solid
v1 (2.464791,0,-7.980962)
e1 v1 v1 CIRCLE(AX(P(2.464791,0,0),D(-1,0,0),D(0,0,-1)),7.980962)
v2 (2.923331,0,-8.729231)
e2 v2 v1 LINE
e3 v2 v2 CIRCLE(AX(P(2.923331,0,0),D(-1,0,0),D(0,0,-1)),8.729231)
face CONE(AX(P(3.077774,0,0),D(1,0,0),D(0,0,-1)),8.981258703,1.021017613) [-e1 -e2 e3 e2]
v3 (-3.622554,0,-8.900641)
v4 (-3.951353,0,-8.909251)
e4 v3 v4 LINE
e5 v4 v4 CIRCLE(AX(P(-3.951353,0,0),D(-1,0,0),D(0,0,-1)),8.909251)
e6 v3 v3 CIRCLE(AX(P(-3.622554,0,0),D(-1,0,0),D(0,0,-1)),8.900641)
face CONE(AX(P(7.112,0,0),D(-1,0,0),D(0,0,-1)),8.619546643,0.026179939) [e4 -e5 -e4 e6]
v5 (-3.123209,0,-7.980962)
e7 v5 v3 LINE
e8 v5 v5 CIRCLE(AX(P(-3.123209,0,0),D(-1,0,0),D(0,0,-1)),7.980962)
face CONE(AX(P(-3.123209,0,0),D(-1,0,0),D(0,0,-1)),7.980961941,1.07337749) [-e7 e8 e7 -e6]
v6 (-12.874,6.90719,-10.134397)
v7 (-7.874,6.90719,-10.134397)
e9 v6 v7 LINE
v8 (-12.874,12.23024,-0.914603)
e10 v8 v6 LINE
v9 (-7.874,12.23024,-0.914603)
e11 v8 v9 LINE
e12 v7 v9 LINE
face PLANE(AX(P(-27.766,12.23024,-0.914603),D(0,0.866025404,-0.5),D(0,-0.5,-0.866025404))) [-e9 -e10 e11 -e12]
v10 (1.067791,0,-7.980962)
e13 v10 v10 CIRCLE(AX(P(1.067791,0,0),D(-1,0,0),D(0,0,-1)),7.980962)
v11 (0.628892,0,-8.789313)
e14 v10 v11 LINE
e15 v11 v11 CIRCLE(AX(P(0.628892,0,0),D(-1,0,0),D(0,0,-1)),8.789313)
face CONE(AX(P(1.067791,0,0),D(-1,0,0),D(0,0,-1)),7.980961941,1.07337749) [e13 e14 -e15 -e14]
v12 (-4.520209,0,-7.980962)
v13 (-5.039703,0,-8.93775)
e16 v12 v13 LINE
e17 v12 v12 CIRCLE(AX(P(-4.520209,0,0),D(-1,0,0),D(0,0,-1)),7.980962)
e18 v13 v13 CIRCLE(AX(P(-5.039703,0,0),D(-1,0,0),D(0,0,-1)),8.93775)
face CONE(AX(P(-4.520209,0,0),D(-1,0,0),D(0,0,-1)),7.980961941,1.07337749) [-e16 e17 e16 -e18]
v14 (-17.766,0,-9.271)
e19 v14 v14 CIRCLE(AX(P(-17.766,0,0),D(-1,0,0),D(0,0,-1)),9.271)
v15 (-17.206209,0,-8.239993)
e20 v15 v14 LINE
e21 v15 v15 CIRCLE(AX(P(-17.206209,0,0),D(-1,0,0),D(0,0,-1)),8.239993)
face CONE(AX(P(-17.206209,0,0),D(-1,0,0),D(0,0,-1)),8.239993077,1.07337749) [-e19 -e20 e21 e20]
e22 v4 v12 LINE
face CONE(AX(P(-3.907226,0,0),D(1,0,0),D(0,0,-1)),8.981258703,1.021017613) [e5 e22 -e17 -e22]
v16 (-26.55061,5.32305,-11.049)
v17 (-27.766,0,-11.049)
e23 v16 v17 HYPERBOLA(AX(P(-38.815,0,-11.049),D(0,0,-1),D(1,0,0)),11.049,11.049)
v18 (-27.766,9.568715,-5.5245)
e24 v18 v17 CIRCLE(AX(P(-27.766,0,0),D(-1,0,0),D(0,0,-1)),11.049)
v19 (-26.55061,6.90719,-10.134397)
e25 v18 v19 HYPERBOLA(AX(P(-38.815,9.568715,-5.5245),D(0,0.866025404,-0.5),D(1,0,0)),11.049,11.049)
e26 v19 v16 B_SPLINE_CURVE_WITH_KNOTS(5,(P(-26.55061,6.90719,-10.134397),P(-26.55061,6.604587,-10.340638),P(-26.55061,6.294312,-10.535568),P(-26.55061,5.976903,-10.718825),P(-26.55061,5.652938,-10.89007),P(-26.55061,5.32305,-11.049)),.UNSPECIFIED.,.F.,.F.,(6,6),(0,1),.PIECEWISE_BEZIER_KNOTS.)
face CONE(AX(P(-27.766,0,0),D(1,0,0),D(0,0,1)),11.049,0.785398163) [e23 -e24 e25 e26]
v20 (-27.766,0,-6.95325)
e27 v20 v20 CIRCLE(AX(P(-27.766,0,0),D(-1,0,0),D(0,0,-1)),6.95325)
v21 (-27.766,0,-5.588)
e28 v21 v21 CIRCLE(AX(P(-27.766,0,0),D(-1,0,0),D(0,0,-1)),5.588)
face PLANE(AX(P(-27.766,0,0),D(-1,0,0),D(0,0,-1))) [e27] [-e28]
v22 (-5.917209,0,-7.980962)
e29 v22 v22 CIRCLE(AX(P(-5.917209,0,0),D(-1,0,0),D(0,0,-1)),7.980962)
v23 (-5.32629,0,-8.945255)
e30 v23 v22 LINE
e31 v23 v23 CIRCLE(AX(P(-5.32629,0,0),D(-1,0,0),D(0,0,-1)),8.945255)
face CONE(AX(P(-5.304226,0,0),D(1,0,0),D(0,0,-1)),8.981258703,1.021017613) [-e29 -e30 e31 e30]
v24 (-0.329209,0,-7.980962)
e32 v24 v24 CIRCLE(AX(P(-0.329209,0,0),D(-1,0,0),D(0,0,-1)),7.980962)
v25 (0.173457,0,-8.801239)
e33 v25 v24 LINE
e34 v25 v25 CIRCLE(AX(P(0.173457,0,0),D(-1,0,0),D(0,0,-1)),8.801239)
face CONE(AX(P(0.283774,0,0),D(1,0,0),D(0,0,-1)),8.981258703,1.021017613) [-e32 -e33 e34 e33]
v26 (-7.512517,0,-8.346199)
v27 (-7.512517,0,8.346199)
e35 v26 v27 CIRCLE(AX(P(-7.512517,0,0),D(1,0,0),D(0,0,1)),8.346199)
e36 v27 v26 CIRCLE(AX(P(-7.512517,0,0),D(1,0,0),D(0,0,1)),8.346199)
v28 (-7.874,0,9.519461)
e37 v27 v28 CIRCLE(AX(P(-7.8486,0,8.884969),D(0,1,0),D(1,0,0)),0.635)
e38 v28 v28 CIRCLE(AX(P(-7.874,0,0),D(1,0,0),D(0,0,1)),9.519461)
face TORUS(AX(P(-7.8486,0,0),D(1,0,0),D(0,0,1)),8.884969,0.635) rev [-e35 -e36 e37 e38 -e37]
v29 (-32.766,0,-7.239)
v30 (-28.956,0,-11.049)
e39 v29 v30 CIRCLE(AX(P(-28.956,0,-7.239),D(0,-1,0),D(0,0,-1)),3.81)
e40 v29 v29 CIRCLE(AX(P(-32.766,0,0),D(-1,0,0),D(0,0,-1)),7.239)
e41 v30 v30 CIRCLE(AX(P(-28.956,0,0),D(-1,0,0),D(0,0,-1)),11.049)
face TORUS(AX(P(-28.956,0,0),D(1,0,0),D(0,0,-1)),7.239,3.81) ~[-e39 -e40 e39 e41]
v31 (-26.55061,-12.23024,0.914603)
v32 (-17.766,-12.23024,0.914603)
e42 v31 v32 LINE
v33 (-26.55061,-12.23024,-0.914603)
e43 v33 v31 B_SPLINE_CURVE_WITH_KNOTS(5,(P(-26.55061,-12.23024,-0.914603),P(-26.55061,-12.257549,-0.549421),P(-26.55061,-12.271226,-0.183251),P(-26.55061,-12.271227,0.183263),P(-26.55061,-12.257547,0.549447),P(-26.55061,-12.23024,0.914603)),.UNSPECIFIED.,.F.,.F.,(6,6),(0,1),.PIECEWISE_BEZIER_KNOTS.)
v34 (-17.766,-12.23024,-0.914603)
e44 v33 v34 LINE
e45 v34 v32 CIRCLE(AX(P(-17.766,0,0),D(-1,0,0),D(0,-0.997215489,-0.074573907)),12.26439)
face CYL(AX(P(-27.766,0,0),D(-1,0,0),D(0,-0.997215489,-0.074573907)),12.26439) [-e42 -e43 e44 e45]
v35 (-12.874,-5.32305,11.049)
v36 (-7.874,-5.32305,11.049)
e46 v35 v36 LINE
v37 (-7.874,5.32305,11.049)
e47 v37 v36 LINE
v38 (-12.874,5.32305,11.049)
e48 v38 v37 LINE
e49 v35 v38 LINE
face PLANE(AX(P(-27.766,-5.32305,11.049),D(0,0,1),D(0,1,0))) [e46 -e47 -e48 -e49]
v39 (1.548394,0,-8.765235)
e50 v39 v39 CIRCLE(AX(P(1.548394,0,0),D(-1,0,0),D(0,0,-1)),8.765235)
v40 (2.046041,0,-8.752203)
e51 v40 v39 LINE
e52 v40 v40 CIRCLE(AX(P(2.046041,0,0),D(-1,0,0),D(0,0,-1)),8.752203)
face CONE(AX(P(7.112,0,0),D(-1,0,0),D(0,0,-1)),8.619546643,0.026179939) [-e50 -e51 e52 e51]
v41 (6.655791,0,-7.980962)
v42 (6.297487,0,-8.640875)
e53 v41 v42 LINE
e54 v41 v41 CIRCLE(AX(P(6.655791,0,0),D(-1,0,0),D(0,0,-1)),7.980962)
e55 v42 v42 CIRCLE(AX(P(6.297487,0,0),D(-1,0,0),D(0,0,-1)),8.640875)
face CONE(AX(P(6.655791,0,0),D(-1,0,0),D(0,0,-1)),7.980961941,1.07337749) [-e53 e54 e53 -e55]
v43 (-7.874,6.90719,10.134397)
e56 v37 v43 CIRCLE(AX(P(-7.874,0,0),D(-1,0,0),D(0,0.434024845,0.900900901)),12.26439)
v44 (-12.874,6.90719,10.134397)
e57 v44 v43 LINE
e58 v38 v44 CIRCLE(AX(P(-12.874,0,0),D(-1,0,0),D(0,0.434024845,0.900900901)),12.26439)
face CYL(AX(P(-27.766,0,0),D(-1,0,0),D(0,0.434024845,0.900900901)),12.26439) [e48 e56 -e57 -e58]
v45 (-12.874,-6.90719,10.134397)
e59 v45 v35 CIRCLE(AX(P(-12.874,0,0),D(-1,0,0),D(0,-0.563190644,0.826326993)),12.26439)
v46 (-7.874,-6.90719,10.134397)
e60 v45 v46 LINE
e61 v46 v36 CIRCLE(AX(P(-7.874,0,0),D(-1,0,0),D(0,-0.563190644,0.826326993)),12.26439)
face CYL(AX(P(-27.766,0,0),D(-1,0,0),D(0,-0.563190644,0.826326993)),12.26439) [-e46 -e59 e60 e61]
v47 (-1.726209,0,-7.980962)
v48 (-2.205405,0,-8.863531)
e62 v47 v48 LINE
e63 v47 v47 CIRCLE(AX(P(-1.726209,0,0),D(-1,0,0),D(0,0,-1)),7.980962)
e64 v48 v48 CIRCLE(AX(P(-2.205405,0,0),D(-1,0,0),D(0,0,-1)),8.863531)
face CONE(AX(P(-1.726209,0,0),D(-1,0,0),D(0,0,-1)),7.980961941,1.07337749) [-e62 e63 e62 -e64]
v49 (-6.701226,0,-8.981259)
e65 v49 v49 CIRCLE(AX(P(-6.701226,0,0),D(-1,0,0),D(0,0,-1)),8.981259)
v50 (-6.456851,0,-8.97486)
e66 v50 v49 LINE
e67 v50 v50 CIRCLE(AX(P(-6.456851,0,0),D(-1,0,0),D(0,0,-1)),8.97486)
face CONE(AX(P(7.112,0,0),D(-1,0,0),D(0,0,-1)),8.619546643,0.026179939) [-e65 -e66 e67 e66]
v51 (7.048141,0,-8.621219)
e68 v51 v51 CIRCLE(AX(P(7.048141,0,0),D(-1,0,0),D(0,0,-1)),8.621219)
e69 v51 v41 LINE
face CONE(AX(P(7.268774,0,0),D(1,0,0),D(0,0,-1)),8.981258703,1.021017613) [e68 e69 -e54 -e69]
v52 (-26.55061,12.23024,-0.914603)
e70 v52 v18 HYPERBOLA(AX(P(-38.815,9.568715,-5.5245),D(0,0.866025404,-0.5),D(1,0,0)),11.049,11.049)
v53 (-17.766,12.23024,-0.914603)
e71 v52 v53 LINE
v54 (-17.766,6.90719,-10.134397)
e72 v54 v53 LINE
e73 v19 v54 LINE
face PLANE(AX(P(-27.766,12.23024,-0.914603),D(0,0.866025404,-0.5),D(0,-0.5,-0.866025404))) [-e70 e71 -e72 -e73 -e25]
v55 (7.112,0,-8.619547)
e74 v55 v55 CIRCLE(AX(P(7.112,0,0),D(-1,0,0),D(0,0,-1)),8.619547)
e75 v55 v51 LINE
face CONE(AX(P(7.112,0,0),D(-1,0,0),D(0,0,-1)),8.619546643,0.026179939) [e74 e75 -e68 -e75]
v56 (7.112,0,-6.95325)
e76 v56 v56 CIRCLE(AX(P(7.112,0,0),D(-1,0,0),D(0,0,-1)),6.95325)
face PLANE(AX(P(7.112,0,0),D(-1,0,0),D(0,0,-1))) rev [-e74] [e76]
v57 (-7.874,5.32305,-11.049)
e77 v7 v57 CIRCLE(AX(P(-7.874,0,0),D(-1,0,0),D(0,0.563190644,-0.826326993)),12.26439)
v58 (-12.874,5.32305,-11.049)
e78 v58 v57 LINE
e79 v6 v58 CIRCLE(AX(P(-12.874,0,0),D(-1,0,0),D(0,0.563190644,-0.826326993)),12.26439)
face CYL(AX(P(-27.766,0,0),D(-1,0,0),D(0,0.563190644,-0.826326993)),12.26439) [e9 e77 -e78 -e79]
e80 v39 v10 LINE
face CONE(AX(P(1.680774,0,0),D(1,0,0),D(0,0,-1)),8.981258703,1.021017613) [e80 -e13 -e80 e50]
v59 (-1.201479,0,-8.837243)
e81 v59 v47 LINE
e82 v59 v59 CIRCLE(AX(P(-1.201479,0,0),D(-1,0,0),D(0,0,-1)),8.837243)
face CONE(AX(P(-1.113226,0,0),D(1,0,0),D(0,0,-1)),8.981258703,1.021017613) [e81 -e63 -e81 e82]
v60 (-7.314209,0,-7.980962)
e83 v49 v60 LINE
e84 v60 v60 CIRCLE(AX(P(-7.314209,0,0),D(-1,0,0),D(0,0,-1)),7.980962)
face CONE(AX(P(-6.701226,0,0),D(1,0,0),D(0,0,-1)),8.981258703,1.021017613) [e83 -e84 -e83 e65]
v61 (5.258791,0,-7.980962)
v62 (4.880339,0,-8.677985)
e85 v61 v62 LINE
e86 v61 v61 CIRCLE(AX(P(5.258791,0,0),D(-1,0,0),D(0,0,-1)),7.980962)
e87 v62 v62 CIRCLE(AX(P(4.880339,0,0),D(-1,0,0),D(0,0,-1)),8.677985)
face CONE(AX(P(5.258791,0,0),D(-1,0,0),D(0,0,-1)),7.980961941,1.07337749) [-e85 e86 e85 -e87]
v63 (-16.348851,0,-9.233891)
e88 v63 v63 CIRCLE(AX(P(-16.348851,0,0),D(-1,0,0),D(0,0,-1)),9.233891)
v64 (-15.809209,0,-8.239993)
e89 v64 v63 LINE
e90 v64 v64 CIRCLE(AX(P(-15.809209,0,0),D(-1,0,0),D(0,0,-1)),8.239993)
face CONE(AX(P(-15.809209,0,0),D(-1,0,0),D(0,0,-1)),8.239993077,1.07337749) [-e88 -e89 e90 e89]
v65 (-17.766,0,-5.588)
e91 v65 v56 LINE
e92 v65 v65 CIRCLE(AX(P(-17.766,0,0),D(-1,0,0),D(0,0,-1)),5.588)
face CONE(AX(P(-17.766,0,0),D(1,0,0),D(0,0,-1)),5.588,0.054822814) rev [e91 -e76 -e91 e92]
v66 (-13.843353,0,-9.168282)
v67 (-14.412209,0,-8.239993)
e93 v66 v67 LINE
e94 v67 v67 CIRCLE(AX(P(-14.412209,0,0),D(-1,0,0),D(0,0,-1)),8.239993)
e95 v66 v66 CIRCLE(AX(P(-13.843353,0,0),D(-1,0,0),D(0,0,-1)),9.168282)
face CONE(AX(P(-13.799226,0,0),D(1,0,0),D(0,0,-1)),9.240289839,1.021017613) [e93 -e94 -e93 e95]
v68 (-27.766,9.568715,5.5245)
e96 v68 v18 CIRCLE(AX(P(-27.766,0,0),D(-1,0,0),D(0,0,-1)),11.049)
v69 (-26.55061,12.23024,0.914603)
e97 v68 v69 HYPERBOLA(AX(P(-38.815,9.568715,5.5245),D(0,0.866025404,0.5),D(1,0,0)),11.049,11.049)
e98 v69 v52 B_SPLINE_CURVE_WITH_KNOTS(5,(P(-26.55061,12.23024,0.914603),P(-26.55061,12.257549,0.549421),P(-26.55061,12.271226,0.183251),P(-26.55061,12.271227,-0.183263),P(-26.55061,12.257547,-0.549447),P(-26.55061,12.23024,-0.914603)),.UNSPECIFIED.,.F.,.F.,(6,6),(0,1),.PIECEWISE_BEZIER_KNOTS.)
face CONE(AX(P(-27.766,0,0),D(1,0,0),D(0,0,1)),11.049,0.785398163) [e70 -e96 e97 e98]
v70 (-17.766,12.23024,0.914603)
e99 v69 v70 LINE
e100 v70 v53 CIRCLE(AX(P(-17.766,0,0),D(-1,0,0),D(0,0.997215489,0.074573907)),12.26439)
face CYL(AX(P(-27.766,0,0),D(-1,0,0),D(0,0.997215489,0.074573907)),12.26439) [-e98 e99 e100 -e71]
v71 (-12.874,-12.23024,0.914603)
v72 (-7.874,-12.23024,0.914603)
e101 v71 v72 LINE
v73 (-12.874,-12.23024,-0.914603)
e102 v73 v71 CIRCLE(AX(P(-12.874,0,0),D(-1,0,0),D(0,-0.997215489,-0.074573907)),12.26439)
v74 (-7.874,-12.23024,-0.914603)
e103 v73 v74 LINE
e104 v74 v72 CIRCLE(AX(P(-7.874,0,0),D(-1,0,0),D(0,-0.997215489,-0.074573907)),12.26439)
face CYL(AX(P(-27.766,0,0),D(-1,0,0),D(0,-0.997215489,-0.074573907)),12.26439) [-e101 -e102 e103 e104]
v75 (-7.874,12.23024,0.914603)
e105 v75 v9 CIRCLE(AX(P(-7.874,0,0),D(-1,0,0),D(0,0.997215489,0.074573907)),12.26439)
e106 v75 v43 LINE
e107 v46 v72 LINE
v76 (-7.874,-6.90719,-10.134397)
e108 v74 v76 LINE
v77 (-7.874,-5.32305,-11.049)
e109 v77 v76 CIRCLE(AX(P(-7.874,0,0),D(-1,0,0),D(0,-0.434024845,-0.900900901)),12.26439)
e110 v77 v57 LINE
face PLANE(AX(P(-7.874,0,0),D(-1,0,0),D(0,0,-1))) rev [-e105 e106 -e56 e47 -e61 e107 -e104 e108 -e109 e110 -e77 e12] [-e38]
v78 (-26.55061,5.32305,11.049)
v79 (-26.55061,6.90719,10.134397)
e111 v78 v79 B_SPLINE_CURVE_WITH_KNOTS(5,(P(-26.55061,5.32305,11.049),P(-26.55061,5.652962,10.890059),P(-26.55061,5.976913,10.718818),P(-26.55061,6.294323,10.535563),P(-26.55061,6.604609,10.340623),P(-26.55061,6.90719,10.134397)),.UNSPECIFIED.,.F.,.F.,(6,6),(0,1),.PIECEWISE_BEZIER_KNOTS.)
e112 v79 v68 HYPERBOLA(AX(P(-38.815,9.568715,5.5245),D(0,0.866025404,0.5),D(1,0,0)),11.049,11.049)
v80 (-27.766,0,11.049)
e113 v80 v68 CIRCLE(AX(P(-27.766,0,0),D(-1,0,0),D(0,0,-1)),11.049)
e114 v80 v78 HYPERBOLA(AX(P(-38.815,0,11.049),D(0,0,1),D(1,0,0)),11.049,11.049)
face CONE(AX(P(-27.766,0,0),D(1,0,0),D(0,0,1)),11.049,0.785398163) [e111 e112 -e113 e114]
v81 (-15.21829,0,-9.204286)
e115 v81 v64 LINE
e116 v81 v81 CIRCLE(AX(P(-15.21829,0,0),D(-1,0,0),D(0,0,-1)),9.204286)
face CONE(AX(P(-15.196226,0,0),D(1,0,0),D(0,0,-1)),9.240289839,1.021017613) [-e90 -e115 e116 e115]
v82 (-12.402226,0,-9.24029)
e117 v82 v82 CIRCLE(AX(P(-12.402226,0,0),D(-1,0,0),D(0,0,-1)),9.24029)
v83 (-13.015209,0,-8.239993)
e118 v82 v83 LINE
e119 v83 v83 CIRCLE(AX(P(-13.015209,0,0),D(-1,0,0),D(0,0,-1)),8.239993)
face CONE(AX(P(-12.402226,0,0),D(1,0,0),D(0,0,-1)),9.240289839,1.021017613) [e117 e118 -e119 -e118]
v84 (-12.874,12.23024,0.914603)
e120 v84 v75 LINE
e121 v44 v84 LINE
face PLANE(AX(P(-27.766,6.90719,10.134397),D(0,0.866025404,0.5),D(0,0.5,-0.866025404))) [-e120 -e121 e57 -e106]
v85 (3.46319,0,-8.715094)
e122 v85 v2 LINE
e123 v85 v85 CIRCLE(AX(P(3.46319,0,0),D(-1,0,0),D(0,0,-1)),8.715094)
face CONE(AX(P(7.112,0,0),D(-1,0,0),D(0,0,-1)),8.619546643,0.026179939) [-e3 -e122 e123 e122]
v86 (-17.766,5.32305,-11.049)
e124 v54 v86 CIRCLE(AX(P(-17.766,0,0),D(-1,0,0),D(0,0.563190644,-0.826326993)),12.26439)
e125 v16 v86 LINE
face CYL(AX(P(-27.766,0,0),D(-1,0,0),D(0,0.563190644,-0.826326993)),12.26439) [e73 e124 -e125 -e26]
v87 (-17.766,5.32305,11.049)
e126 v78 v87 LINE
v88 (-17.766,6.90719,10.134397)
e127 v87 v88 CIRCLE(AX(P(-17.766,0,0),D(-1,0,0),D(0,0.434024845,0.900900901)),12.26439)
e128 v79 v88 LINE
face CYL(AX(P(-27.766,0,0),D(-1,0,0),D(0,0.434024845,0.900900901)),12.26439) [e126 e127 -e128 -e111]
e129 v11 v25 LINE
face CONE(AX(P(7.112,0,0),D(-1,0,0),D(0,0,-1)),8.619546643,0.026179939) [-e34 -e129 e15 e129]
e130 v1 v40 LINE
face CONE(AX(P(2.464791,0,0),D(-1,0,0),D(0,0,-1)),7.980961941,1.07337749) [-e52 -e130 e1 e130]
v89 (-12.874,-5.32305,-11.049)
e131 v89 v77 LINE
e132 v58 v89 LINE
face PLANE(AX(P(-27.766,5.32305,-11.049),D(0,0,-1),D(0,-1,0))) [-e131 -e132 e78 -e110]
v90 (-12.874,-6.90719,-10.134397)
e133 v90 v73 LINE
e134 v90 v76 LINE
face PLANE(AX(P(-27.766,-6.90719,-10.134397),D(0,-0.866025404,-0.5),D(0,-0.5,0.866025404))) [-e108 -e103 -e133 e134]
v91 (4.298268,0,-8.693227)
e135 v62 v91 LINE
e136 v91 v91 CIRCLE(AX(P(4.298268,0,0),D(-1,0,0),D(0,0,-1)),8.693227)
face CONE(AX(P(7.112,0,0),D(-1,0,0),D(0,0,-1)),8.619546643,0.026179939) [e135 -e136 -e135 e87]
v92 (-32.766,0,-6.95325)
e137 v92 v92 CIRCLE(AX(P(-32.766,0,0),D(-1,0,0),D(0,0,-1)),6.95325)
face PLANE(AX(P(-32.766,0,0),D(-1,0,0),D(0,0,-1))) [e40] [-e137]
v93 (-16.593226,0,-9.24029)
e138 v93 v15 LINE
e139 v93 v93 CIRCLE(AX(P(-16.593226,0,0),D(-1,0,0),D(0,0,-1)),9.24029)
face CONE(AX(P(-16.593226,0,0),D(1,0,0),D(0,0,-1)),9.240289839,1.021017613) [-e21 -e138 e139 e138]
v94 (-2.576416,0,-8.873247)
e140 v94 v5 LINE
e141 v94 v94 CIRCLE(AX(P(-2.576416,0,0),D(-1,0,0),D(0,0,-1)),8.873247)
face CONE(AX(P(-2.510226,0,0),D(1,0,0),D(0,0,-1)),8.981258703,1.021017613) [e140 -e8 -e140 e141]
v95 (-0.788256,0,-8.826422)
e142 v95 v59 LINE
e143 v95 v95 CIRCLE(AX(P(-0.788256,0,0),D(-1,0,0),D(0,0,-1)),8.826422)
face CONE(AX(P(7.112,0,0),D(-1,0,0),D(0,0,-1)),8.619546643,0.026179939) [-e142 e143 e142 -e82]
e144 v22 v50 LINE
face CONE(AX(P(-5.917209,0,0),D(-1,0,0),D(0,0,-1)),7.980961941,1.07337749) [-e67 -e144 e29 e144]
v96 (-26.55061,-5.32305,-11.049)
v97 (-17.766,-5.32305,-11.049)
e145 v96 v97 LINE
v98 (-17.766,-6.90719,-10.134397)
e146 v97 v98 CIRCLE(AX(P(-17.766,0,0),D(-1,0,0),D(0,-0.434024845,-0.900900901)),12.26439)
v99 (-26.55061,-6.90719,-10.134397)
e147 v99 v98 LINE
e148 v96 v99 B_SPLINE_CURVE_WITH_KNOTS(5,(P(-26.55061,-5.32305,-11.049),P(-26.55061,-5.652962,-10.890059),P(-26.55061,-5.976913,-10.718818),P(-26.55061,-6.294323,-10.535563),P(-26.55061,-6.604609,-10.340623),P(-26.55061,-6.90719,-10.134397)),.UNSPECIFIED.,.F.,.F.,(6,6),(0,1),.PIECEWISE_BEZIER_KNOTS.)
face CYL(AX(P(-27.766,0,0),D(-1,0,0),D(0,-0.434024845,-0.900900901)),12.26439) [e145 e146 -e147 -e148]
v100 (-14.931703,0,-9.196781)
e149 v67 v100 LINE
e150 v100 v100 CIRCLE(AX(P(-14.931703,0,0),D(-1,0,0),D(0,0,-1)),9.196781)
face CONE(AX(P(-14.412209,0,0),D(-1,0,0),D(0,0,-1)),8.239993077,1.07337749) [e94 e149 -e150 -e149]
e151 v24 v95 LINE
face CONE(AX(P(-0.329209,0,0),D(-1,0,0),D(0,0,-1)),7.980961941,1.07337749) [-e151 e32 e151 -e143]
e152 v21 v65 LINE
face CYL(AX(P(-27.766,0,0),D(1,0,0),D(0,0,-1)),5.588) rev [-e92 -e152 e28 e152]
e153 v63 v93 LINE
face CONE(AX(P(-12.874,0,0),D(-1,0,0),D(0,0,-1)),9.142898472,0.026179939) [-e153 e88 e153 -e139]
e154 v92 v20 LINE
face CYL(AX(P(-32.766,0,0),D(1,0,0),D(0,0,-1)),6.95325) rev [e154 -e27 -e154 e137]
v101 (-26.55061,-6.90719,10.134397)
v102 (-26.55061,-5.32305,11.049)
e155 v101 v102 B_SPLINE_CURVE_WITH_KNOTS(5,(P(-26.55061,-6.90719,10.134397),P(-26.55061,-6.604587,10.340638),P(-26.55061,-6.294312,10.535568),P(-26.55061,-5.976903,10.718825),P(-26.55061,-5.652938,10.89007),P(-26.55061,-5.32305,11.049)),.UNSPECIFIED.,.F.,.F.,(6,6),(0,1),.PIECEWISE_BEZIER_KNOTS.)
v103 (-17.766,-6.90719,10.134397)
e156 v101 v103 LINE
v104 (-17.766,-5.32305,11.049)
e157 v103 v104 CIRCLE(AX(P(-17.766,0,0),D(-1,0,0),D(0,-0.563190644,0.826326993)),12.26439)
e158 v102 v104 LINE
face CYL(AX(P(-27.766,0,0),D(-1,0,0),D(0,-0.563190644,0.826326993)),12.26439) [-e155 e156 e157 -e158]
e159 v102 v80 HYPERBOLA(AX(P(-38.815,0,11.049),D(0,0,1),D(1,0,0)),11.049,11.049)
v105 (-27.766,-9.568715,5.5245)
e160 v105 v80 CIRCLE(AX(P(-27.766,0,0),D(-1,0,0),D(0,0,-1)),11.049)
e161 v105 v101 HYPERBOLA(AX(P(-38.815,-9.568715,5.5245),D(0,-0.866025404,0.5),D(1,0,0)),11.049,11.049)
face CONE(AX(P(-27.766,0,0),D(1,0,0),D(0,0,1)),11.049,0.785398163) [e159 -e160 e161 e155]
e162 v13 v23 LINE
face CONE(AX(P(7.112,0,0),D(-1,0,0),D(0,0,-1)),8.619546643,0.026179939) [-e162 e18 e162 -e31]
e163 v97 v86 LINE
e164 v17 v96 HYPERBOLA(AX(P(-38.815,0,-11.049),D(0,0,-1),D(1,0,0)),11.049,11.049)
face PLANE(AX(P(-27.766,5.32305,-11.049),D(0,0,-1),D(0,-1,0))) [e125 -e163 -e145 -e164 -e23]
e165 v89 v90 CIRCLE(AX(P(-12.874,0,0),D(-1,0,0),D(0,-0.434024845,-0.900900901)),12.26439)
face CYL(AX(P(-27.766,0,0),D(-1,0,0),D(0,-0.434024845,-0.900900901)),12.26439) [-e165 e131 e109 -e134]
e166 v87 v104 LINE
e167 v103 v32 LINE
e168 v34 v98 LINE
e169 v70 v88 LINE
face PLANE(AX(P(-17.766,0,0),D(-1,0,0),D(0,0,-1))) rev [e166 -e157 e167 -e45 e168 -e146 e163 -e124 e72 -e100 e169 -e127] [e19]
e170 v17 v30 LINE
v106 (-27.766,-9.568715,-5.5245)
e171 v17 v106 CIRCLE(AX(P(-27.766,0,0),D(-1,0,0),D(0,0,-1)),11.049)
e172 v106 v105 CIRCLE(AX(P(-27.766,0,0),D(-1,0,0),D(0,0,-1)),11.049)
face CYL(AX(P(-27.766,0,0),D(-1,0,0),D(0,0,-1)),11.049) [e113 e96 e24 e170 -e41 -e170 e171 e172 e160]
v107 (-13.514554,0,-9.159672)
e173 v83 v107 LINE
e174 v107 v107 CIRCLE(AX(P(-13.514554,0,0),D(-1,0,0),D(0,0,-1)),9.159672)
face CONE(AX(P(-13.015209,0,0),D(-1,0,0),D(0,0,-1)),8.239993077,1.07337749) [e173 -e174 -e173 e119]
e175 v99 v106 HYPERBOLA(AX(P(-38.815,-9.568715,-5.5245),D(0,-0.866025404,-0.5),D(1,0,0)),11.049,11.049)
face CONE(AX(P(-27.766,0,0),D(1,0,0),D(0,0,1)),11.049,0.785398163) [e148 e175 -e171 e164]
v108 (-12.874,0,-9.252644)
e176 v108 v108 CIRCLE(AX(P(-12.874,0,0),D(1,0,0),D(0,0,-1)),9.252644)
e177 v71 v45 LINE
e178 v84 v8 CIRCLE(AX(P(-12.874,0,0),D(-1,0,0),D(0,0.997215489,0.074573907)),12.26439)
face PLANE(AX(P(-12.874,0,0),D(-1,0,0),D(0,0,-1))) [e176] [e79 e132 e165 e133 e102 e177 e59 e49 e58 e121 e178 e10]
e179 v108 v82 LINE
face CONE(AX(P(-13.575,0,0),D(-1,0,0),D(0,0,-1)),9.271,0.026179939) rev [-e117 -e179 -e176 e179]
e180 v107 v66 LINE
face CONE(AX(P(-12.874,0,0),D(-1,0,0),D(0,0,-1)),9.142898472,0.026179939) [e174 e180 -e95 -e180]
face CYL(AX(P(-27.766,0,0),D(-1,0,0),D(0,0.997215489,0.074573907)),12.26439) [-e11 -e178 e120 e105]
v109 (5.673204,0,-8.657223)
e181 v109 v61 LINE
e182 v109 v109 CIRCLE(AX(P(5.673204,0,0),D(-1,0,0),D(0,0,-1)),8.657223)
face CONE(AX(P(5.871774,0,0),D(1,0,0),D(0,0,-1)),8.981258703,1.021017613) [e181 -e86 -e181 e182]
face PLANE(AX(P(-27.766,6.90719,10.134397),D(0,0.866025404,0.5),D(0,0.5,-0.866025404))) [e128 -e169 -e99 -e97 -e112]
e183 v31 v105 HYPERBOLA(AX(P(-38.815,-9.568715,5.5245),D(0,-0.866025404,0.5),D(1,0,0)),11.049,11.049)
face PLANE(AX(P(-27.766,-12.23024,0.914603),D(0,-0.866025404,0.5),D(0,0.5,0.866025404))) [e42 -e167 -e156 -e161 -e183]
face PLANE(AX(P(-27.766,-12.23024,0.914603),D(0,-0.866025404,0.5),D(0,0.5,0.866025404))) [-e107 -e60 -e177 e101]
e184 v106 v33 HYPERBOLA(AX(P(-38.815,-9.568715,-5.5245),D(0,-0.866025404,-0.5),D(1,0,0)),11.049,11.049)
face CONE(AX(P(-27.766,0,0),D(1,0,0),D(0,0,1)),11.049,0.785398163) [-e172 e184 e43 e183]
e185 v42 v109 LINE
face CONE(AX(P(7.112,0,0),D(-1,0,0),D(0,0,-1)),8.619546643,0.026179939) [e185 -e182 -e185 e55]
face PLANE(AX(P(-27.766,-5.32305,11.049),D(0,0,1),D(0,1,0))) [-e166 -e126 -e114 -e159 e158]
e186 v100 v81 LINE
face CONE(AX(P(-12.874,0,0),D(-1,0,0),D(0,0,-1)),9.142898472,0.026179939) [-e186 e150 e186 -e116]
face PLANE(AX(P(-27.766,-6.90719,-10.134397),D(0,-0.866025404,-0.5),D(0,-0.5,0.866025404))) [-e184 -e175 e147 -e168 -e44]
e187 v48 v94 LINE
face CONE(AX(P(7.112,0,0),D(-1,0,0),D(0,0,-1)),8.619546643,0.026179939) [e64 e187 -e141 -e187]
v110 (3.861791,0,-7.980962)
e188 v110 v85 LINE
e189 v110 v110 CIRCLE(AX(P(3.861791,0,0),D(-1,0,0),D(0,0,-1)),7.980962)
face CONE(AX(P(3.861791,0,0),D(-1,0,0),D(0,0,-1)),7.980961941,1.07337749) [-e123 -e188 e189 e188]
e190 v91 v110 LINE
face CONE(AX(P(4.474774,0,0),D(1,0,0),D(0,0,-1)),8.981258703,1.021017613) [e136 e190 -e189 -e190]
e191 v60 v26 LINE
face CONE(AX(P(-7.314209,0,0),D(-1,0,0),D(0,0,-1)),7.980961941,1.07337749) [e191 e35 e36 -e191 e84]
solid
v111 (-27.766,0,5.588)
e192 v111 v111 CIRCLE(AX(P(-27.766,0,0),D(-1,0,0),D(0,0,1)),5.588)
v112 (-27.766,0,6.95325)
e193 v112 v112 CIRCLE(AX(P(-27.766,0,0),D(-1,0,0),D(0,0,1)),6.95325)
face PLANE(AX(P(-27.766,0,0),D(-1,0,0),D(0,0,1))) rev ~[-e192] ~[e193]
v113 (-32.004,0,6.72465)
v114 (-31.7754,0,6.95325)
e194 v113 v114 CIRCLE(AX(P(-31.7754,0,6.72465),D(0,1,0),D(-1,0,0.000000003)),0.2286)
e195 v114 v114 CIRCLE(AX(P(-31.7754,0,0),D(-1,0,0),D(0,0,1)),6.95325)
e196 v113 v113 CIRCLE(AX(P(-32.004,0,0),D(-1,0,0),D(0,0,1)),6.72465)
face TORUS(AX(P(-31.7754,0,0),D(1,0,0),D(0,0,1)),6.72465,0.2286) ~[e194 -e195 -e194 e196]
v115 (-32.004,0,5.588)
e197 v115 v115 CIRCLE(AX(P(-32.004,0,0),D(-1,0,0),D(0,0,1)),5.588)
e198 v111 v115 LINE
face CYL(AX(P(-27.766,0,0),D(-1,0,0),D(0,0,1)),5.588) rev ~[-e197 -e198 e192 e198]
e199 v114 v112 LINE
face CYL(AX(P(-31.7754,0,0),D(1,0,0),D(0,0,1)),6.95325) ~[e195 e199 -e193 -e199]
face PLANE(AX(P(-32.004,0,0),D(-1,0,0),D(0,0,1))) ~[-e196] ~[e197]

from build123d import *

# Parameters (mm, degrees)
LPATTERN6_COUNT    = 4
LPATTERN6_PITCH    = 1.397
LPATTERN7_COUNT    = 11
LPATTERN7_PITCH    = 1.397
SKETCH12_OUTSIDE_W = 61.024
SKETCH12_OUTSIDE_H = 61.024
CUT_EXTRUDE2_DEPTH = 35.878
FILLET4_R          = 3.81
SKETCH19_OUTSIDE_W = 38.452
SKETCH19_OUTSIDE_H = 40.882
SKETCH19_OUTSIDE_R = 11.049
CUT_EXTRUDE3_DEPTH = 1.999996
CUT_EXTRUDE3_DRAFT = -45
SKETCH28_R         = 0.635


with BuildPart() as part:
    # Sketch10 → Revolve2 (revolve)
    with BuildSketch(Plane.XY, mode=Mode.PRIVATE) as revolve2_sk:
        Polygon((-27.766, 5.588), (-17.766, 5.588), (7.112, 6.95325), (7.112, 8.619546643), (-7.874, 9.011968864), (-7.874, 22.098), (-12.874, 22.098), (-12.874, 9.142898472), (-17.766, 9.271), (-17.766, 22.098), (-27.766, 22.098), (-27.766, 11.049), (-32.766, 11.049), (-32.766, 6.95325), (-27.766, 6.95325), align=None)
    revolve(revolve2_sk.sketch.rotate(Axis((0, 0, 0), (-1, 0, 0)), 90), axis=Axis((0, 0, 0), (-1, 0, 0)))  # turned: the seam where the file's is

    # Sketch26 → Cut-Revolve1 (revolve, cut)
    with BuildSketch(Plane.XY, mode=Mode.PRIVATE) as cut_revolve1_sk:
        Polygon((-17.766, 9.271), (-16.593226271, 9.240289839), (-17.206208915, 8.239993077), align=None)
    cut_revolve1 = revolve(cut_revolve1_sk.sketch.rotate(Axis((0, 0, 0), (-1, 0, 0)), 90), axis=Axis((0, 0, 0), (-1, 0, 0)), mode=Mode.SUBTRACT)  # turned: the seam where the file's is

    # LPattern6: Cut-Revolve1 ×4
    with Locations(*[(i * LPATTERN6_PITCH, 0, 0) for i in range(1, LPATTERN6_COUNT)]):
        add(cut_revolve1, mode=Mode.SUBTRACT)

    # Sketch27 → Cut-Revolve2 (revolve, cut)
    with BuildSketch(Plane.XY, mode=Mode.PRIVATE) as cut_revolve2_sk:
        Polygon((-7.874, 9.011968864), (-6.701226271, 8.981258703), (-7.314208915, 7.980961941), align=None)
    cut_revolve2 = revolve(cut_revolve2_sk.sketch.rotate(Axis((0, 0, 0), (-1, 0, 0)), 90), axis=Axis((0, 0, 0), (-1, 0, 0)), mode=Mode.SUBTRACT)  # turned: the seam where the file's is

    # LPattern7: Cut-Revolve2 ×11
    with Locations(*[(i * LPATTERN7_PITCH, 0, 0) for i in range(1, LPATTERN7_COUNT)]):
        add(cut_revolve2, mode=Mode.SUBTRACT)

    # Sketch12 outside → Cut-Extrude2 (cut, through all)
    with BuildSketch(Plane.ZY.offset(27.766)):
        Rectangle(SKETCH12_OUTSIDE_W, SKETCH12_OUTSIDE_H)
        with BuildLine():
            Line((-0.914603493, 12.230239676), (-10.134396507, 6.907189697))
            ThreePointArc((-10.134396507, 6.907189697), (-10.621273302, 6.132195), (-11.049, 5.323049978))
            Line((-11.049, 5.323049978), (-11.049, -5.323049978))
            ThreePointArc((-11.049, -5.323049978), (-10.621273302, -6.132195), (-10.134396507, -6.907189697))
            Line((-10.134396507, -6.907189697), (-0.914603493, -12.230239676))
            ThreePointArc((-0.914603493, -12.230239676), (0, -12.26439), (0.914603493, -12.230239676))
            Line((0.914603493, -12.230239676), (10.134396507, -6.907189697))
            ThreePointArc((10.134396507, -6.907189697), (10.621273302, -6.132195), (11.049, -5.323049978))
            Line((11.049, -5.323049978), (11.049, 5.323049978))
            ThreePointArc((11.049, 5.323049978), (10.621273302, 6.132195), (10.134396507, 6.907189697))
            Line((10.134396507, 6.907189697), (0.914603493, 12.230239676))
            ThreePointArc((0.914603493, 12.230239676), (0, 12.26439), (-0.914603493, 12.230239676))
        make_face(mode=Mode.SUBTRACT)
    extrude(amount=-CUT_EXTRUDE2_DEPTH, mode=Mode.SUBTRACT)

    # Fillet4
    fillet4_edges = [part.edges().sort_by_distance(p)[0] for p in [
        (-32.766, 0, 11.049),
    ]]
    fillet(fillet4_edges, radius=FILLET4_R)


with BuildPart() as body_2:
    # Sketch23 → Revolve6 (revolve)
    with BuildSketch(Plane.XY, mode=Mode.PRIVATE) as revolve6_sk:
        with BuildLine():
            Line((-31.7754, 6.95325), (-27.766, 6.95325))
            Line((-27.766, 6.95325), (-27.766, 5.588))
            Line((-27.766, 5.588), (-32.004, 5.588))
            Line((-32.004, 5.588), (-32.004, 6.72465))
            ThreePointArc((-32.004, 6.72465), (-31.93704461, 6.88629461), (-31.7754, 6.95325))
        make_face()
    revolve(revolve6_sk.sketch.rotate(Axis((0, 0, 0), (-1, 0, 0)), 270), axis=Axis((0, 0, 0), (-1, 0, 0)))  # turned: the seam where the file's is


with BuildPart() as cut_extrude3_tool:
    # Sketch19 outside → Cut-Extrude3 (with draft: the straight prism first)
    with BuildSketch(Plane.ZY.offset(27.766)):
        Rectangle(SKETCH19_OUTSIDE_W, SKETCH19_OUTSIDE_H)
        Circle(SKETCH19_OUTSIDE_R, mode=Mode.SUBTRACT)
    extrude(amount=-CUT_EXTRUDE3_DEPTH)
    # Cut-Extrude3: the draft: its side faces are tilted about the plane it starts from
    cut_extrude3_sides = [cut_extrude3_tool.faces().sort_by_distance(p)[0] for p in [
        (-26.766002, -20.441, 0),
        (-26.766002, 0, 19.226),
        (-26.766002, 20.441, 0),
        (-26.766002, 0, -19.226),
        (-26.766002, 0, -11.049),
    ]]
    draft(cut_extrude3_sides, Plane.ZY.offset(27.766), CUT_EXTRUDE3_DRAFT)


with BuildPart() as part_1:
    add(part.part)

    # Cut-Extrude3: cut by cut_extrude3_tool
    add(cut_extrude3_tool.part, mode=Mode.SUBTRACT)

    # Sketch28 → Cut-Revolve3 (revolve, cut)
    with BuildSketch(Plane.XY, mode=Mode.PRIVATE) as cut_revolve3_sk:
        with Locations((-7.8486, -8.884968864)):
            Circle(SKETCH28_R)
    revolve(cut_revolve3_sk.sketch.rotate(Axis((7.112, 0, 0), (-1, 0, 0)), 90), axis=Axis((7.112, 0, 0), (-1, 0, 0)), mode=Mode.SUBTRACT)  # turned: the seam where the file's is


solid = Compound([body_2.part, part_1.part])
